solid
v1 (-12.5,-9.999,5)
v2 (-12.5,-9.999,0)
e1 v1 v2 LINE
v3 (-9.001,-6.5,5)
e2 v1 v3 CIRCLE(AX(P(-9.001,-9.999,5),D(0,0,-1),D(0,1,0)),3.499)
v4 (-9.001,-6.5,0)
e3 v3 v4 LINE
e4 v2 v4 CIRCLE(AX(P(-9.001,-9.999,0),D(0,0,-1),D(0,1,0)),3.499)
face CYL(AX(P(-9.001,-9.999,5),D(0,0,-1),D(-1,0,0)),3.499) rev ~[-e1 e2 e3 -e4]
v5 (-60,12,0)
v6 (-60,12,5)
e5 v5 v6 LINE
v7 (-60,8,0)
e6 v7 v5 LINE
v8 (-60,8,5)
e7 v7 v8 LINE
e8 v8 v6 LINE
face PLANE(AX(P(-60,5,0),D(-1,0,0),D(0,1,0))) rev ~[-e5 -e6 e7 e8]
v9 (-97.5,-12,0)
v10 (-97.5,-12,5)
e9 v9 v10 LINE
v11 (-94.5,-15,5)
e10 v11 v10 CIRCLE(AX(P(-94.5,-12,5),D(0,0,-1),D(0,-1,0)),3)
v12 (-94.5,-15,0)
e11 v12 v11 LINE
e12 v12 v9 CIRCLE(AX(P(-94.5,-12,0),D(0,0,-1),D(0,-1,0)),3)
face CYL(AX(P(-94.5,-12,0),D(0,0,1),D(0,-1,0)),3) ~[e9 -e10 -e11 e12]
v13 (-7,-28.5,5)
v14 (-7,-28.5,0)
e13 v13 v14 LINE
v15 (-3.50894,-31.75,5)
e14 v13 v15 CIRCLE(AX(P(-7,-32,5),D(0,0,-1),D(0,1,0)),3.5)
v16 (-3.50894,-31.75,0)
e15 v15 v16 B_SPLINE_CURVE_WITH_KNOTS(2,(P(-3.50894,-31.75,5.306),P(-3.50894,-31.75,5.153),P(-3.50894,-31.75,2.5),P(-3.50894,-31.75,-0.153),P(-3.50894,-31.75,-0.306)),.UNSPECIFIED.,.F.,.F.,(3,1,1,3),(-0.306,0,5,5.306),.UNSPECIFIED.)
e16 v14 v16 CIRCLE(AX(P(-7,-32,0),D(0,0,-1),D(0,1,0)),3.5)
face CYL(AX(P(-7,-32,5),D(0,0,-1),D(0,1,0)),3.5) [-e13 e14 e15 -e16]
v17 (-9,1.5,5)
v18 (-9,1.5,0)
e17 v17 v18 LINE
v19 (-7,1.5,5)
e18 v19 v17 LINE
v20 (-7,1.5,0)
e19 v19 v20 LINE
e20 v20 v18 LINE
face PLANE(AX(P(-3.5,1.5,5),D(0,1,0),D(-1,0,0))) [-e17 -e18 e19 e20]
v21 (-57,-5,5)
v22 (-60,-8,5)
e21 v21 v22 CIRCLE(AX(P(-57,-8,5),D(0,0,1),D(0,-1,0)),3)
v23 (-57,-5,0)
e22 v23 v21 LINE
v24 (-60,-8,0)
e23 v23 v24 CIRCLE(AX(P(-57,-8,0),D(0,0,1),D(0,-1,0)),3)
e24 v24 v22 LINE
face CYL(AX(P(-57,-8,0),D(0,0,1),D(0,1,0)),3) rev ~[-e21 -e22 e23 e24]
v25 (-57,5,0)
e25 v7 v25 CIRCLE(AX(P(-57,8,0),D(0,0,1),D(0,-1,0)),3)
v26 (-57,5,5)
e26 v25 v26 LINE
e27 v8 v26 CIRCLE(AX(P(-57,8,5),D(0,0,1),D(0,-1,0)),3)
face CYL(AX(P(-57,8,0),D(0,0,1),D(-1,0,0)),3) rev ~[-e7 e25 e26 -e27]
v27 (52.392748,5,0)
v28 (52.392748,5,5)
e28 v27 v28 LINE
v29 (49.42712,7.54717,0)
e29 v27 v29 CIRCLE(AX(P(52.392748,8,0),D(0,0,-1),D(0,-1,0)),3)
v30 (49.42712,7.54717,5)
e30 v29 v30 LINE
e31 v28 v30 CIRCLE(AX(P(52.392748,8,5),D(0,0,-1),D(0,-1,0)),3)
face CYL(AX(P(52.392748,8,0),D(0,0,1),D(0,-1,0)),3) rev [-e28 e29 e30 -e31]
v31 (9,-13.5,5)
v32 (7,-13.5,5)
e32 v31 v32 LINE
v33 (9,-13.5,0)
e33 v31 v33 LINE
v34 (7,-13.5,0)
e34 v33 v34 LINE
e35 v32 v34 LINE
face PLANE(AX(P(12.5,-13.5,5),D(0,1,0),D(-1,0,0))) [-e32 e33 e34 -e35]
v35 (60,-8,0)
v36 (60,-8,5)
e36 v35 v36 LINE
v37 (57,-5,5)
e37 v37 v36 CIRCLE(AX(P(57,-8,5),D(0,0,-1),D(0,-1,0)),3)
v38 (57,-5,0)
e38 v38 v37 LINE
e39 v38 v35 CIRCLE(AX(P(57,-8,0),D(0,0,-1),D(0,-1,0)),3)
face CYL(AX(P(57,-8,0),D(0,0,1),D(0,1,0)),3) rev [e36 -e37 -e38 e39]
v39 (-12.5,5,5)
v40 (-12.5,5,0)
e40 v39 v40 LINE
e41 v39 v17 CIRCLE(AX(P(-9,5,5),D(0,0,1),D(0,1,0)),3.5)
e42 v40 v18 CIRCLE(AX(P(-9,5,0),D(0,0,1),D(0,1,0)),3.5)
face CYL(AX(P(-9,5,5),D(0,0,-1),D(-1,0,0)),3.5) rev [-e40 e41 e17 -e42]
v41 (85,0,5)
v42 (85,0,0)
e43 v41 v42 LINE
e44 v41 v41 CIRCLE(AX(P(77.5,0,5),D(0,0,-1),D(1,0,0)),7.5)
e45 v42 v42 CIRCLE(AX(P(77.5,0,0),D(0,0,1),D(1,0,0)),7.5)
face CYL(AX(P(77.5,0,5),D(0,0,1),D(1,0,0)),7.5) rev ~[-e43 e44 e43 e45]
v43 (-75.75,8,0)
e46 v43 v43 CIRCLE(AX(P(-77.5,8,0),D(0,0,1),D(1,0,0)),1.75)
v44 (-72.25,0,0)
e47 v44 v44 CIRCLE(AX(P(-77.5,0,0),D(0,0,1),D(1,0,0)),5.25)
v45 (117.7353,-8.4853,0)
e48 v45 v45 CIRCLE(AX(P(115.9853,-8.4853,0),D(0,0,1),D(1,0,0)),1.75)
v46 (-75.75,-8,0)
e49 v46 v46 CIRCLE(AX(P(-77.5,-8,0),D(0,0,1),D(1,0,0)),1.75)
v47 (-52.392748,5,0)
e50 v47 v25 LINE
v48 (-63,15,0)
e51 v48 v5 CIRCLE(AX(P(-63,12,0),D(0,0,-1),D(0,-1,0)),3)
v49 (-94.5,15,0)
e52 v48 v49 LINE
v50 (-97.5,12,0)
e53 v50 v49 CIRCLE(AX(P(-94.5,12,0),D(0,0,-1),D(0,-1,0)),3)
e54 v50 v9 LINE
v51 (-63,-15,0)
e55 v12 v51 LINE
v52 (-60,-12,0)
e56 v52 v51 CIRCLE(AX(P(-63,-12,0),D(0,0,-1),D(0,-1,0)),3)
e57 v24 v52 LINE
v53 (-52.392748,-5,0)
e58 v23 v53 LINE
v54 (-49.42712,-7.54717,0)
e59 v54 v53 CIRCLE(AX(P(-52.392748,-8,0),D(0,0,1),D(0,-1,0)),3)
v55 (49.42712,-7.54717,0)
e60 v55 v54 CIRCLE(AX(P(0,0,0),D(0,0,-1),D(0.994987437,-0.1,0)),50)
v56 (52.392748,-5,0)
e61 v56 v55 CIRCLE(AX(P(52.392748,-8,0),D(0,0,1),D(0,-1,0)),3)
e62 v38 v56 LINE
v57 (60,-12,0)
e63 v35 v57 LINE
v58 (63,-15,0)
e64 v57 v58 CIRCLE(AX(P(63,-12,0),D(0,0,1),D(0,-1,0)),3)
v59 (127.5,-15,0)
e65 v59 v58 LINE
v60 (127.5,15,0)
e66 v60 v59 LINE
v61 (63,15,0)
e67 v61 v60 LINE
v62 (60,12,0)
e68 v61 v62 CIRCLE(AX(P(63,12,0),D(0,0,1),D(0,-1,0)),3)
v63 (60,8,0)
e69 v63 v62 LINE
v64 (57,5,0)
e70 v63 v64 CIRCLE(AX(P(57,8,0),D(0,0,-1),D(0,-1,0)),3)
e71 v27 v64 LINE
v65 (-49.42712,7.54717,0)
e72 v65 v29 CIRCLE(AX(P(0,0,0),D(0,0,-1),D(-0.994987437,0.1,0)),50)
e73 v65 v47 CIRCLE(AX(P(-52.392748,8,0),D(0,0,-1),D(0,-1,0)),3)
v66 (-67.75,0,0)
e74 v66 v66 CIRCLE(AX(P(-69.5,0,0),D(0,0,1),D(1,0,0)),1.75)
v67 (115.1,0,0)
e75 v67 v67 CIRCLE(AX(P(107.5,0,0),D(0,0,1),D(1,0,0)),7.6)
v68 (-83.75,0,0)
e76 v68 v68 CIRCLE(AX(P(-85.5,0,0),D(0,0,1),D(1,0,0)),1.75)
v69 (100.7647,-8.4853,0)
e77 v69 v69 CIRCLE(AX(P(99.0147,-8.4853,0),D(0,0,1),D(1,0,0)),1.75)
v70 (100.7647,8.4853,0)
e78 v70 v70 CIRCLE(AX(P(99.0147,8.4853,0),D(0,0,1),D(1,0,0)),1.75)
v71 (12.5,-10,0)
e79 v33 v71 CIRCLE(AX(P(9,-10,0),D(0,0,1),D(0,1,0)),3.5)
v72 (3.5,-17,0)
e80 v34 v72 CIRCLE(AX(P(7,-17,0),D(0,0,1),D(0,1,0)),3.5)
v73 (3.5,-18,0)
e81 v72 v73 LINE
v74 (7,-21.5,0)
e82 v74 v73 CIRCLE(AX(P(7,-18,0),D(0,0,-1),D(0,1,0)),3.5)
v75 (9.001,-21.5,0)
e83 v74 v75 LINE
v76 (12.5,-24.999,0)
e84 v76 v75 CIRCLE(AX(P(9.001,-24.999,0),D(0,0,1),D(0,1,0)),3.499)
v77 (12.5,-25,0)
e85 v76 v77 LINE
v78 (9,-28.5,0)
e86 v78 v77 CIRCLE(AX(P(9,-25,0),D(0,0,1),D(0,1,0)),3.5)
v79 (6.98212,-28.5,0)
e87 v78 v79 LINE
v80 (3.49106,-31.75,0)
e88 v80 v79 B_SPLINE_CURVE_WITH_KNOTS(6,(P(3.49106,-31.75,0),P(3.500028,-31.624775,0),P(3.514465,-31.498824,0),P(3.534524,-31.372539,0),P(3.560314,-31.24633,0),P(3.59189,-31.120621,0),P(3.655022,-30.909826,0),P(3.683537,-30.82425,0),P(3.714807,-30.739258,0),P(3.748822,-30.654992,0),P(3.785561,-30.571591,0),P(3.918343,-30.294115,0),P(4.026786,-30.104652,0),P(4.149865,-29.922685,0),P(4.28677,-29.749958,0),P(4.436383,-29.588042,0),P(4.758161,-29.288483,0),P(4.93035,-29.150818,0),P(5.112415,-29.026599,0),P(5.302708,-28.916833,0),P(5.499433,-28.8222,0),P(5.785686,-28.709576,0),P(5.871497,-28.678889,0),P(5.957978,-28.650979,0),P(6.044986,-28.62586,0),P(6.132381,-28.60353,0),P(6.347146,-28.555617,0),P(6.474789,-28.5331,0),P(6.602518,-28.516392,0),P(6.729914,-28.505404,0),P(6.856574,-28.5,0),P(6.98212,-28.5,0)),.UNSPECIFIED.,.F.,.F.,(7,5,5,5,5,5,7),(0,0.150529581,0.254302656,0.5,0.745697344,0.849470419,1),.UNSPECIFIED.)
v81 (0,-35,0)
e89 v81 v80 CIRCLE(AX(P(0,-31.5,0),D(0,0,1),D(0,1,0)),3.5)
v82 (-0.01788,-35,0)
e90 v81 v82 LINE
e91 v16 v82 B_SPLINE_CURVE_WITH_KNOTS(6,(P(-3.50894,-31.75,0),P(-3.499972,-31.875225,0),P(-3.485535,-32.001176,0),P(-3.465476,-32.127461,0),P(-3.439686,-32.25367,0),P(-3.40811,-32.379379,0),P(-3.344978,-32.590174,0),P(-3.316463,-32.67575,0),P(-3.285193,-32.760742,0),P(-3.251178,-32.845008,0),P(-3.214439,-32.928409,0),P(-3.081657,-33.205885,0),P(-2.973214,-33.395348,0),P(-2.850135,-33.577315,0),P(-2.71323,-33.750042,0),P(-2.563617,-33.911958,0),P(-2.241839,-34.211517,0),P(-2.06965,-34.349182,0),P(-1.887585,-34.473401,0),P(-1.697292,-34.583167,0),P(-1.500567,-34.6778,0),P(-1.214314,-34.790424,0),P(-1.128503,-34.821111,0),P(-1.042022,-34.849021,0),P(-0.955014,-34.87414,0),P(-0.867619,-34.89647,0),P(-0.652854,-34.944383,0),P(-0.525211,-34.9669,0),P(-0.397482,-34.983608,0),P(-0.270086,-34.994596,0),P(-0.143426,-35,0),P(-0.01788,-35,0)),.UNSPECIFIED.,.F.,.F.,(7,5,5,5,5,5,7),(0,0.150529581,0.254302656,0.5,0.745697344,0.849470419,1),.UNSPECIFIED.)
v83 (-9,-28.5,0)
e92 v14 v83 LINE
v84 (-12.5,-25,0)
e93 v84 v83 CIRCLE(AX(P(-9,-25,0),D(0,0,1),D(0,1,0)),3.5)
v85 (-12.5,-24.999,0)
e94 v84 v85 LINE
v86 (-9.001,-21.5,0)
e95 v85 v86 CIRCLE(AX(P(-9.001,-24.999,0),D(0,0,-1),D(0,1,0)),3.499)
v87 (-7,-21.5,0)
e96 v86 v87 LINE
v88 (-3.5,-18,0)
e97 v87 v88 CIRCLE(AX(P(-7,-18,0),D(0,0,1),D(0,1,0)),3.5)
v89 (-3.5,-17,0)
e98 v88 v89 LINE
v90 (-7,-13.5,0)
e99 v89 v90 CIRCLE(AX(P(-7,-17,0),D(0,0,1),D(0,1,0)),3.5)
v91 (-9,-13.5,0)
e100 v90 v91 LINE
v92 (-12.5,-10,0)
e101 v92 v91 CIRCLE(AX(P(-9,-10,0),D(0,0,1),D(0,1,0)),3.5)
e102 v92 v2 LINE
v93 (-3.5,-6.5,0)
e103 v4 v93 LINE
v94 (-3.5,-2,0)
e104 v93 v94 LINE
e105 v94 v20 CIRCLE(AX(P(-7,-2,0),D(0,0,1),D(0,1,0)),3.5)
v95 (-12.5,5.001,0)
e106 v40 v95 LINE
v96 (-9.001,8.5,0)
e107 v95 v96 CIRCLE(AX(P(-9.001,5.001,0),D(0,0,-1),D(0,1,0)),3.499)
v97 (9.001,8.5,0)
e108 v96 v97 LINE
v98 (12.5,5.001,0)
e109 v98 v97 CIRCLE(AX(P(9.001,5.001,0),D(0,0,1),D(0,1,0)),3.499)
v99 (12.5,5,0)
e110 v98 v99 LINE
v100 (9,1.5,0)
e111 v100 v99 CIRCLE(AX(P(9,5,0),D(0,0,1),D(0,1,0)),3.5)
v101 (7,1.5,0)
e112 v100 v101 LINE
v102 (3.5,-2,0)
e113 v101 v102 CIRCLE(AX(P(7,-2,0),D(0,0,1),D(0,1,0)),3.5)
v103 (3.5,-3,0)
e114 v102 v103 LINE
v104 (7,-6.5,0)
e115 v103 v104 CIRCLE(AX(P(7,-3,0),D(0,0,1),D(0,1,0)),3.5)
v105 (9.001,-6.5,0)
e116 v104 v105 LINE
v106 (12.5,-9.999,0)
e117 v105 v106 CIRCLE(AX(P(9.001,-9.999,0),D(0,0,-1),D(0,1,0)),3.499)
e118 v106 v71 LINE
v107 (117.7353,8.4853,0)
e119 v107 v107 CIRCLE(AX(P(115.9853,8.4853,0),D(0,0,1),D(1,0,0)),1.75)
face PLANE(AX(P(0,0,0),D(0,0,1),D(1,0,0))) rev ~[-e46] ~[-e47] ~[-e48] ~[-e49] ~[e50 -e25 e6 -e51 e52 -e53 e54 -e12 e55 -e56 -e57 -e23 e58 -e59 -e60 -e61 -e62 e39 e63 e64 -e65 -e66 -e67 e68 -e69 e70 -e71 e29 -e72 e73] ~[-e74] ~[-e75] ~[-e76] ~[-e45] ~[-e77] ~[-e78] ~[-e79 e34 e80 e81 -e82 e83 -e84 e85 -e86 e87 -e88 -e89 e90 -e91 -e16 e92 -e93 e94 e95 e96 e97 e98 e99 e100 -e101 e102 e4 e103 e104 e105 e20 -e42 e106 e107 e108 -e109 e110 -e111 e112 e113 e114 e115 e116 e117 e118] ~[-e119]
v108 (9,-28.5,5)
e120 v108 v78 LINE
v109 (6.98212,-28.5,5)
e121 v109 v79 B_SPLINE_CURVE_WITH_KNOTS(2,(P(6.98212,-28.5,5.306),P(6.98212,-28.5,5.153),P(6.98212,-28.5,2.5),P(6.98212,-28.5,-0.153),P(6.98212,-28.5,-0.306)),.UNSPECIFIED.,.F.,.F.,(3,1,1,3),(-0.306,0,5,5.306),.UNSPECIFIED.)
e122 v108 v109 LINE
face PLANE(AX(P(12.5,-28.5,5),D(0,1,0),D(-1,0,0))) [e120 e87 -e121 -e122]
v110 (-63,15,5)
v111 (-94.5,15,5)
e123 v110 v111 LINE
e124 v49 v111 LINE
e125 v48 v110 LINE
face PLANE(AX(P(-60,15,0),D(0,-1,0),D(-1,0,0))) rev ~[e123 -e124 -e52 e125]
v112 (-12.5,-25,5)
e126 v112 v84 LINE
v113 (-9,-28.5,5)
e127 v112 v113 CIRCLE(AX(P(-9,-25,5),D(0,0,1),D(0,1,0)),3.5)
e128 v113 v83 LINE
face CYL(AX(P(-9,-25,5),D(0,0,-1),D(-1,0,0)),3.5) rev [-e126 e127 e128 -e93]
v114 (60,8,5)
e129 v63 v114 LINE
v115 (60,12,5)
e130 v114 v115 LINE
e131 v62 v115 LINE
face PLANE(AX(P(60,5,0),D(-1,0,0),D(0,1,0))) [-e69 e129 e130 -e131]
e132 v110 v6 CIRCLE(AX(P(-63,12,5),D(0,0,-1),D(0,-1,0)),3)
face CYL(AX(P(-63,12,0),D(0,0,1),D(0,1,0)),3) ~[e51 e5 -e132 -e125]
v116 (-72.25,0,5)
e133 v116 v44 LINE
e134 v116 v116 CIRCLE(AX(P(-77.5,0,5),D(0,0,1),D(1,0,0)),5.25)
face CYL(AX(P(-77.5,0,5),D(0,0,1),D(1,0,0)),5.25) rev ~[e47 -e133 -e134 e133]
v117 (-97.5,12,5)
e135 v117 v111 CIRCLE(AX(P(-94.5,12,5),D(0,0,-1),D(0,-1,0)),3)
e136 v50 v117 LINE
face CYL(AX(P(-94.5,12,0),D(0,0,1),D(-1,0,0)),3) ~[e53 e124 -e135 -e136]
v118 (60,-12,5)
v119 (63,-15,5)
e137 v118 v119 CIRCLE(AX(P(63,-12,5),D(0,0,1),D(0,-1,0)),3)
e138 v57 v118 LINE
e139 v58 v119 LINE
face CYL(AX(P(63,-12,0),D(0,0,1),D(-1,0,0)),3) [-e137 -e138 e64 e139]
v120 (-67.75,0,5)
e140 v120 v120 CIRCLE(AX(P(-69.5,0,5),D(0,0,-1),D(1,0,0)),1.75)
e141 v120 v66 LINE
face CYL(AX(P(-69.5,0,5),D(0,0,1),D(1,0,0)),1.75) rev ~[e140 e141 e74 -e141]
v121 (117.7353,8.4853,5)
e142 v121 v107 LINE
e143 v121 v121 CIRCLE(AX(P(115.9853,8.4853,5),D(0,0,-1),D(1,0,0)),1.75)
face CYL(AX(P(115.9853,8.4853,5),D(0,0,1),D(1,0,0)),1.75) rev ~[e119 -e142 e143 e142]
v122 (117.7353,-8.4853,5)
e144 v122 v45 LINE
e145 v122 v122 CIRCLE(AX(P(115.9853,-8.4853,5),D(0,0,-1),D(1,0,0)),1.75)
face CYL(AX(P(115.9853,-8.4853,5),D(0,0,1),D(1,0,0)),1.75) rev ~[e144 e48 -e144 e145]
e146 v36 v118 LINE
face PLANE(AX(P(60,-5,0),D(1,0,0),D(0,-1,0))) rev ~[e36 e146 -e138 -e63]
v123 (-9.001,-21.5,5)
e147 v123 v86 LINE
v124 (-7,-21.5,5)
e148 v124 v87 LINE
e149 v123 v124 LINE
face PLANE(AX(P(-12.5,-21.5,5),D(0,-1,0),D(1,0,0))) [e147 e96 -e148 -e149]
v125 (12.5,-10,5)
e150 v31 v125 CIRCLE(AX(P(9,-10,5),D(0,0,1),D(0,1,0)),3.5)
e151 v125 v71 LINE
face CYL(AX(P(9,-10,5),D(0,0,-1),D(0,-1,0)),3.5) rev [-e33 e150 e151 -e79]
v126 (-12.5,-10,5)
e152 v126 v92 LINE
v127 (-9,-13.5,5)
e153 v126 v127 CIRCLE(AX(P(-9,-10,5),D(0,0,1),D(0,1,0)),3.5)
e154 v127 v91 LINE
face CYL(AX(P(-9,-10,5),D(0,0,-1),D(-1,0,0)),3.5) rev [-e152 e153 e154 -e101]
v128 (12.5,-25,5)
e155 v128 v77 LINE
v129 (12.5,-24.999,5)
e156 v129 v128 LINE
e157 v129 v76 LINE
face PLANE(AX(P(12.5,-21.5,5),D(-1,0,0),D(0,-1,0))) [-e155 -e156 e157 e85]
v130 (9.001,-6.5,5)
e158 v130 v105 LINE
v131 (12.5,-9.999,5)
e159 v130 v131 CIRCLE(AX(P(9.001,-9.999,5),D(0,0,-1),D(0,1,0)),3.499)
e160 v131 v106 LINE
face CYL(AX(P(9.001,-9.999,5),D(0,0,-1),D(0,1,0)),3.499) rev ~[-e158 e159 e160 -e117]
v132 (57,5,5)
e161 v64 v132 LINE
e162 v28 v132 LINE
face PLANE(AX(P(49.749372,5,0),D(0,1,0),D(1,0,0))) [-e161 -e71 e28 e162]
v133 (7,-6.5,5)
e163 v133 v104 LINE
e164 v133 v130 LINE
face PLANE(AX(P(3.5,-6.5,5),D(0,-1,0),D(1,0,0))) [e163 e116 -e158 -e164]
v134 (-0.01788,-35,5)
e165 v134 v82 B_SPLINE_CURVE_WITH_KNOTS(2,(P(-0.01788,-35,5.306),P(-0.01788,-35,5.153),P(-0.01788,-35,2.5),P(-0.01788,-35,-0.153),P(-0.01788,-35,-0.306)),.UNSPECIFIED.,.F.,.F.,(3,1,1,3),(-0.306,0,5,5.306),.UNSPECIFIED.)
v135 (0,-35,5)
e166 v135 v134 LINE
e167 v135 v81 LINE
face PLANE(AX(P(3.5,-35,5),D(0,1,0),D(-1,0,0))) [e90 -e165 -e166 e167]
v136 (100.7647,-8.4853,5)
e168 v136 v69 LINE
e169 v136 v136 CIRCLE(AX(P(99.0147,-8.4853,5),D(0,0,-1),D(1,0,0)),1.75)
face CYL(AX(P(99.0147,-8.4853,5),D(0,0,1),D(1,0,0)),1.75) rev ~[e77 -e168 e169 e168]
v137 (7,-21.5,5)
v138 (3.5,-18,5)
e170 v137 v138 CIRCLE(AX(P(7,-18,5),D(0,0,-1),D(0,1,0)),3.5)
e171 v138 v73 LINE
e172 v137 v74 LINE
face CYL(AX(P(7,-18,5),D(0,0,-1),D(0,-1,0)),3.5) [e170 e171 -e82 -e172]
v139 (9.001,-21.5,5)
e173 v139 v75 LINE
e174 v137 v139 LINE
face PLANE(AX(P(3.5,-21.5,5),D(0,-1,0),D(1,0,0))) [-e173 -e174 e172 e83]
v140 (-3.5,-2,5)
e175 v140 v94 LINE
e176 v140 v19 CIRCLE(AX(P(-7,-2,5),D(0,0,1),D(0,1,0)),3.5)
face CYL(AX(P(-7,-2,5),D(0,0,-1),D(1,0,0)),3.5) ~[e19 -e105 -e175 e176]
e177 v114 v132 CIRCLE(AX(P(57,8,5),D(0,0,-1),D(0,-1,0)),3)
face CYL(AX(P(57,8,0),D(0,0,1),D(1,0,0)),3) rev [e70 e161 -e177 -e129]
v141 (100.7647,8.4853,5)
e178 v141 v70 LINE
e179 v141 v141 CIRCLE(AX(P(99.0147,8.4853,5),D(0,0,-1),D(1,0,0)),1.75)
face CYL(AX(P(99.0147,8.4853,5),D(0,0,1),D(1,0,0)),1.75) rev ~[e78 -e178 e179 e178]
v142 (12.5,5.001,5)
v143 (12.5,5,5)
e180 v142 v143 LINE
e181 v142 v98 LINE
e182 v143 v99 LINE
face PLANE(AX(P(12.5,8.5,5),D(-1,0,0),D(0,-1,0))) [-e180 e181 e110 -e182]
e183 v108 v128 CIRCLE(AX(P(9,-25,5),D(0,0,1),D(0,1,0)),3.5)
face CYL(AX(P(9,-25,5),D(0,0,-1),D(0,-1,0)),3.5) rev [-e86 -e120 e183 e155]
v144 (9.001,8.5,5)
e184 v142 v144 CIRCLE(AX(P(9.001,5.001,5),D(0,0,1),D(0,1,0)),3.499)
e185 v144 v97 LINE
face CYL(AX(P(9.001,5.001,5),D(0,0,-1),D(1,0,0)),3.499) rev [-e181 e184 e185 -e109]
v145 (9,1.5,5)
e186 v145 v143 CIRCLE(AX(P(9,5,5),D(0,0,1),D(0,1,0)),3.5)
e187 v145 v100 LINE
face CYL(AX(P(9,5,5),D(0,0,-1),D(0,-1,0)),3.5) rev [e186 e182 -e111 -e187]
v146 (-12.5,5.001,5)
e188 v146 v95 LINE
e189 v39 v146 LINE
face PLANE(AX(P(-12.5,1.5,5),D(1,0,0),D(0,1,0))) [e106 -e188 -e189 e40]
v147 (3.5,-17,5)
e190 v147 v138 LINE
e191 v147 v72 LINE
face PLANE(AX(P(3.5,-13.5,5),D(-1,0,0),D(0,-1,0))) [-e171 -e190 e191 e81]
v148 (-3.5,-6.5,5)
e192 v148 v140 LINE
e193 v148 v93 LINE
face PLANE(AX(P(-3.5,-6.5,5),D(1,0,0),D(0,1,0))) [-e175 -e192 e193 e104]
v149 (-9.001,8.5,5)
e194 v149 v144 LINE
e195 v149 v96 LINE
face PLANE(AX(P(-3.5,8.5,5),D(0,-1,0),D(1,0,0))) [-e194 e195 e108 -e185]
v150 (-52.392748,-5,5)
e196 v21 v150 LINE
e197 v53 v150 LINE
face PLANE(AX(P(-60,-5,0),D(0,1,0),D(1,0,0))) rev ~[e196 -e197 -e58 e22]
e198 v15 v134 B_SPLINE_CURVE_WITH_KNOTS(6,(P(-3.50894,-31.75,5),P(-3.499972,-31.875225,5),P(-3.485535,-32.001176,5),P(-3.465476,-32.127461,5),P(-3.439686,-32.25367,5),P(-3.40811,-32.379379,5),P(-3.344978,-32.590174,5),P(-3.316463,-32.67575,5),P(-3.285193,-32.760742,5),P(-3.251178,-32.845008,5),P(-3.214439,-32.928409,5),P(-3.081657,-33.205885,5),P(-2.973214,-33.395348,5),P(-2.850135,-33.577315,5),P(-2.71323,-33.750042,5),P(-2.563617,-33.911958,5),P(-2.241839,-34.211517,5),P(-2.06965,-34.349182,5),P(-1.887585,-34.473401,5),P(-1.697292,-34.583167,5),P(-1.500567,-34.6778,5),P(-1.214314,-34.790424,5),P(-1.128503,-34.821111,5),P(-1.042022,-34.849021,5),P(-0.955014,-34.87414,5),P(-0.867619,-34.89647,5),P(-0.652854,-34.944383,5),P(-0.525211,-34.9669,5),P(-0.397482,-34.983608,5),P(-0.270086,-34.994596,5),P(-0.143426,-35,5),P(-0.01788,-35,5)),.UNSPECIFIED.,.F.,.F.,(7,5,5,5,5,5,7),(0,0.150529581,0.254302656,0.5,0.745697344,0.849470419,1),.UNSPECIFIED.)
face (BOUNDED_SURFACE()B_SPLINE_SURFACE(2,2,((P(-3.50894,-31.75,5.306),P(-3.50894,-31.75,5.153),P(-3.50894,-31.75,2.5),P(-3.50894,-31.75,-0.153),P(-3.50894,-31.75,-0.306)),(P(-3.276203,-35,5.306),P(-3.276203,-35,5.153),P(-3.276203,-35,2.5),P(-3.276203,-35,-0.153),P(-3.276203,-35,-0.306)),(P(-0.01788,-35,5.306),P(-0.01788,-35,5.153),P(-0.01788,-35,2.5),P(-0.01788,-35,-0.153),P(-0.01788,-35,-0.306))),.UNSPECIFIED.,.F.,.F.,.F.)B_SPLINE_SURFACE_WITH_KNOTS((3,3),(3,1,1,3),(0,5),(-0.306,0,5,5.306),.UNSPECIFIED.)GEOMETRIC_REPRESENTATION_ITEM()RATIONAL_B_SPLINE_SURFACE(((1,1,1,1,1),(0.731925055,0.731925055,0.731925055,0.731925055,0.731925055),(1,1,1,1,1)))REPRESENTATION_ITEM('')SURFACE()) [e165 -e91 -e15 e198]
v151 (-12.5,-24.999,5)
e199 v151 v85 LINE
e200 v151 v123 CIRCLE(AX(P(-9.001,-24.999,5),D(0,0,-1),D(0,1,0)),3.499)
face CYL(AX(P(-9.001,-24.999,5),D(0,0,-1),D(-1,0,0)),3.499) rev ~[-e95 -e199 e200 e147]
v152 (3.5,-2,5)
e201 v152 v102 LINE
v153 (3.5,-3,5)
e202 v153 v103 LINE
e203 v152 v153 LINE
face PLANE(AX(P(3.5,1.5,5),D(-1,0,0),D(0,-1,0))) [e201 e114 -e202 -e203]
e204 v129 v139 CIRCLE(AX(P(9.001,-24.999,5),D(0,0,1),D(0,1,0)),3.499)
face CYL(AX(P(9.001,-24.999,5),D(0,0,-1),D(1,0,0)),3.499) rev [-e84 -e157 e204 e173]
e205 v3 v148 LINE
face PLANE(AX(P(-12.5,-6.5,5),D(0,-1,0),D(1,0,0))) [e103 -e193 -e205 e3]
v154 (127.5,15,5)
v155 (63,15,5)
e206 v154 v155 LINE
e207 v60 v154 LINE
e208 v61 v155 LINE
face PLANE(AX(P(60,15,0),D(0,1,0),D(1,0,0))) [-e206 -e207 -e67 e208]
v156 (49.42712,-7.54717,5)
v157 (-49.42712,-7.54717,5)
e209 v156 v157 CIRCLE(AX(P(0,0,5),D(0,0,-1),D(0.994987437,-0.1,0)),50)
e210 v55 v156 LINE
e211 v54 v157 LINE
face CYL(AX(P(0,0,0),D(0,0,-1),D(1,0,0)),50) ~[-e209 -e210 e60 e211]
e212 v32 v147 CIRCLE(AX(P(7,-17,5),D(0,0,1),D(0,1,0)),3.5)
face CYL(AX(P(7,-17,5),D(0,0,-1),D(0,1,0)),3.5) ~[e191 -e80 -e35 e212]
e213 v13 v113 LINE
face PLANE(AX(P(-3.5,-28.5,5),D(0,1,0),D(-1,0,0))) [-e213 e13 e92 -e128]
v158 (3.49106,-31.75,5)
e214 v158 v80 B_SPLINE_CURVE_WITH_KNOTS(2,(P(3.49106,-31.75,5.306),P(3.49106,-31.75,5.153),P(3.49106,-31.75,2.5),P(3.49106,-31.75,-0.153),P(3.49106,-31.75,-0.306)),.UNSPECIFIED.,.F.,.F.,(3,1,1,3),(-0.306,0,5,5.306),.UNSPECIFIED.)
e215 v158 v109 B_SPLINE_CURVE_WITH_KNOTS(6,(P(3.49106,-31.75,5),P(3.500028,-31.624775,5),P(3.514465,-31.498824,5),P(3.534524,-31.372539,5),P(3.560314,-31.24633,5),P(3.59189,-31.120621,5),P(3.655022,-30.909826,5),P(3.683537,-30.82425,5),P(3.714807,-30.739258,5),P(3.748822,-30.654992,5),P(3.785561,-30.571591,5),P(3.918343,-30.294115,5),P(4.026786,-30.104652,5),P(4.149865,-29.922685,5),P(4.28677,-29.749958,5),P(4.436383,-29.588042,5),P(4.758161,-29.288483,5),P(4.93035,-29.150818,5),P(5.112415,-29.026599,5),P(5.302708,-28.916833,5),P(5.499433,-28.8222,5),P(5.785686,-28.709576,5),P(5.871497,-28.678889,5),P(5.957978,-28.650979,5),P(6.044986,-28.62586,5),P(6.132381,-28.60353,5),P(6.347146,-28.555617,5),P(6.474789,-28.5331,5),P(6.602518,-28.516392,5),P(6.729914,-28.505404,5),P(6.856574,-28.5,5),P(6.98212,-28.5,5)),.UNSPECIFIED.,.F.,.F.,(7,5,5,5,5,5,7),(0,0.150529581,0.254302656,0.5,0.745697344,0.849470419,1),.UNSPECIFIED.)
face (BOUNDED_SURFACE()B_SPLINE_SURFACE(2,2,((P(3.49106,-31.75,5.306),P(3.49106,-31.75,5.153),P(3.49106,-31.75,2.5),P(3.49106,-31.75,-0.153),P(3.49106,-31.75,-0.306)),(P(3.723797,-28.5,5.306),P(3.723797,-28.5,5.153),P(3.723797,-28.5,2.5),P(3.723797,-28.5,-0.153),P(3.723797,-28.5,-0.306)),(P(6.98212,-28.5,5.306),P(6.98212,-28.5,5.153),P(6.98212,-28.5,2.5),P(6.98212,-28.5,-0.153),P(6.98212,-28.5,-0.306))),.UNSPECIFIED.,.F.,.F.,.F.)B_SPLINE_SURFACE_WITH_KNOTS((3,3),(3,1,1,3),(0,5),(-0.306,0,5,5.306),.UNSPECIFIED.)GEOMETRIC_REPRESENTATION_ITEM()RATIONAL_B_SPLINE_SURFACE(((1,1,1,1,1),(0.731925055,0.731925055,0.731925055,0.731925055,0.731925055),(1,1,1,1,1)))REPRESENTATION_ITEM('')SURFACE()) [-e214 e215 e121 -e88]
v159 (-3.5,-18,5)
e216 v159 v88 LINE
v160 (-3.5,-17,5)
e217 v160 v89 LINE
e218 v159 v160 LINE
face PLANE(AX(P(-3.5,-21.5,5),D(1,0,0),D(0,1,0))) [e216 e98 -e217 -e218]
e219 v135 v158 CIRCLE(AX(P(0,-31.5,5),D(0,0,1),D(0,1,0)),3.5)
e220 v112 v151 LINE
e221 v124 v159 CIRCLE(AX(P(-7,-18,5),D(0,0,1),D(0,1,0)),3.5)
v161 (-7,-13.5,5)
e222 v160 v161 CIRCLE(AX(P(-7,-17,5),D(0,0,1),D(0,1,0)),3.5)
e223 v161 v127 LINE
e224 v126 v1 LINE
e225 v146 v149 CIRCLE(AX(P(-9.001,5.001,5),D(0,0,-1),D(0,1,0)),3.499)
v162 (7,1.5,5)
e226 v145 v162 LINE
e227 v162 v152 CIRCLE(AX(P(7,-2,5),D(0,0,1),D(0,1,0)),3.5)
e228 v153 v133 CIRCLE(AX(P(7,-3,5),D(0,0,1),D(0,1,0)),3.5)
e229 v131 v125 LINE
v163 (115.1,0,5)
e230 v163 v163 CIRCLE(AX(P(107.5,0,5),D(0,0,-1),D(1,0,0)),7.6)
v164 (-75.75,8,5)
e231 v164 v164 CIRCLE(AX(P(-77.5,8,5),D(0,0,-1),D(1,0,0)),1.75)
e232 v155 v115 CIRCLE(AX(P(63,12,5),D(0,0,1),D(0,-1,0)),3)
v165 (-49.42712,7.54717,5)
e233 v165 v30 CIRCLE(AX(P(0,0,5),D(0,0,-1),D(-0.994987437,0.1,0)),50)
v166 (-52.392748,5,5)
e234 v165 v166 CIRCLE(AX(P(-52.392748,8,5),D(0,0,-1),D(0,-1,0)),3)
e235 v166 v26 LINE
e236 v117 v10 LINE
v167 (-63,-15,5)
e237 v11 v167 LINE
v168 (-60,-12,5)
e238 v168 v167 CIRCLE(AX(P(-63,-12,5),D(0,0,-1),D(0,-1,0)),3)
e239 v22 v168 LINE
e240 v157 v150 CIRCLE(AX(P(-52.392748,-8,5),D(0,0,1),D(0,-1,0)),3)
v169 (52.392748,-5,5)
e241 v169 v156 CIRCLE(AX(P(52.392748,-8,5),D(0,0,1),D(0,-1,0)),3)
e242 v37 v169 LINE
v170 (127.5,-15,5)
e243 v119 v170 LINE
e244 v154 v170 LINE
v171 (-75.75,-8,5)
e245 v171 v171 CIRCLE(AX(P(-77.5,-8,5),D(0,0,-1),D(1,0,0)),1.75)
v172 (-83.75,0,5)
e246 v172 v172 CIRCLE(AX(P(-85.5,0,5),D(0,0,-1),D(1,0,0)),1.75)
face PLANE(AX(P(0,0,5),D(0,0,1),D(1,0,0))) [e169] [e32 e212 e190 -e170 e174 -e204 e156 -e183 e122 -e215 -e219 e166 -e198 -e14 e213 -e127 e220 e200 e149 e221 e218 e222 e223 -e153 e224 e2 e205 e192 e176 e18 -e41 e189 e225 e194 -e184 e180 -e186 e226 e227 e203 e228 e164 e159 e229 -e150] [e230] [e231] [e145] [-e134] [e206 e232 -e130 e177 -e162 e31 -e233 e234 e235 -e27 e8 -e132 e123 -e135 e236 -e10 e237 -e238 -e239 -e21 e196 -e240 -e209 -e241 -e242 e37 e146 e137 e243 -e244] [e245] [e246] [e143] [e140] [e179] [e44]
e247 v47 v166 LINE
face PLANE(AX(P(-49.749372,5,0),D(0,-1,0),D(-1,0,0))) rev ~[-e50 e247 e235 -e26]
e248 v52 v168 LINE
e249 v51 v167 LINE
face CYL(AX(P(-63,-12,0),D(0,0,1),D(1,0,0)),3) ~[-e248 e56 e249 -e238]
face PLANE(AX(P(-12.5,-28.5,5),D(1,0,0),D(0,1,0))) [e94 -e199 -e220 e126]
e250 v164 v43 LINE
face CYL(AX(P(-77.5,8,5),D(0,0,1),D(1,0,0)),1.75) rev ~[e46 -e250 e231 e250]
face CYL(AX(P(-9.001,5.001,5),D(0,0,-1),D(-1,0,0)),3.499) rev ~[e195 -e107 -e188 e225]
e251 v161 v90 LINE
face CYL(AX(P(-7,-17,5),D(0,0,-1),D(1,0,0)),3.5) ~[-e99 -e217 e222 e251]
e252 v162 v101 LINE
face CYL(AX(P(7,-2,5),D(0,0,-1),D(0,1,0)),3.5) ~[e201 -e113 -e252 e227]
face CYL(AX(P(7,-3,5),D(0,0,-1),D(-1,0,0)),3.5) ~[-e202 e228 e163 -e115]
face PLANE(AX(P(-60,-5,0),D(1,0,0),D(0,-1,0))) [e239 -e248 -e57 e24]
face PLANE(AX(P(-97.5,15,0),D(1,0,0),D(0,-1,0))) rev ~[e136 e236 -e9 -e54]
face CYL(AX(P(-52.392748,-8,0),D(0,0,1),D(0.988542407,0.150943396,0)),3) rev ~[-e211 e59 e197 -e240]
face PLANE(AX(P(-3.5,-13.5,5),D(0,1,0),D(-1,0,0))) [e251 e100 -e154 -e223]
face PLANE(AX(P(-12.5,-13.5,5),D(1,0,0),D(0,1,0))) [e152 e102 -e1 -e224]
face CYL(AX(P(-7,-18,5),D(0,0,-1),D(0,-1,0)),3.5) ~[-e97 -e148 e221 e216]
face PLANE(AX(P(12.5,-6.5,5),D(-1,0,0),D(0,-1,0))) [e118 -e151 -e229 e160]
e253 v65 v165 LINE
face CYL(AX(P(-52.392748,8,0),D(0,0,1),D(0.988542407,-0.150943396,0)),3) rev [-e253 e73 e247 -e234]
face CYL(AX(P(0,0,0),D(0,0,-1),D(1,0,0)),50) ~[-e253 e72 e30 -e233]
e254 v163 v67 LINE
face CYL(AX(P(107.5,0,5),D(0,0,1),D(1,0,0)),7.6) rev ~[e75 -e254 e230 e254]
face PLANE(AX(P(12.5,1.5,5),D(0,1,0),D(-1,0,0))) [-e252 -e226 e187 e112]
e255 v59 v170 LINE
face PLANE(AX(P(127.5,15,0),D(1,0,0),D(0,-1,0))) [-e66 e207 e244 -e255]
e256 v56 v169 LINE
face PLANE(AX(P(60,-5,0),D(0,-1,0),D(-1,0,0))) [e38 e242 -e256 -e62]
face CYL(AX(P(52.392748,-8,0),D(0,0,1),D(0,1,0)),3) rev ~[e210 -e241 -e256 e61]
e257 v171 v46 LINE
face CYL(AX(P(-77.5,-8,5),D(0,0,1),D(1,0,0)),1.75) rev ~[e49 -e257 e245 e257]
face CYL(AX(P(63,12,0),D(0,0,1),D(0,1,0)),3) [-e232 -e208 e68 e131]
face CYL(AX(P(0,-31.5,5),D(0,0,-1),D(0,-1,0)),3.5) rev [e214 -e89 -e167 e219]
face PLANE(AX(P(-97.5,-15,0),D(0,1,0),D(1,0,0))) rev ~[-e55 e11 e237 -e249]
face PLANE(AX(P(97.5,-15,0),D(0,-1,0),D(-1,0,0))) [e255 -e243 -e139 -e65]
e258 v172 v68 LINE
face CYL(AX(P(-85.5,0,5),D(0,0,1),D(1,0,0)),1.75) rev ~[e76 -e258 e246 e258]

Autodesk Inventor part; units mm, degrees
ref_plane "YZ Plane" through (0, 0, 0) normal (1, 0, 0) x (0, 1, 0)
ref_plane "XZ Plane" through (0, 0, 0) normal (0, 1, 0) x (-1, 0, 0)
ref_plane "XY Plane" through (0, 0, 0) normal (0, 0, 1) x (1, 0, 0)
sketch "Sketch1" plane through (0, 0, 0) normal (0, 0, 1) x (1, 0, 0)
  circle A0 centre (0, 0) radius 50
  line L0 (0, 0) -> (0, 20) construction
  line L1 (2.5, 15) -> (97.5, 15)
  line L2 (97.5, 15) -> (97.5, -15)
  line L3 (97.5, -15) -> (2.5, -15)
  line L4 (2.5, -15) -> (2.5, 15)
  line L5 (2.5, 15) -> (97.5, -15) construction
  line L6 (97.5, 15) -> (2.5, -15) construction
  line L7 (40, 5) -> (60, 5)
  line L8 (60, 5) -> (60, -5)
  line L9 (60, -5) -> (40, -5)
  line L10 (40, -5) -> (40, 5)
  line L11 (40, 5) -> (60, -5) construction
  line L12 (60, 5) -> (40, -5) construction
  line L13 (60, 5) -> (60, 15)
  line L14 (60, -5) -> (60, -15)
  line L15 (-2.5, 15) -> (-97.5, 15)
  line L16 (-97.5, 15) -> (-97.5, -15)
  line L17 (-97.5, -15) -> (-2.5, -15)
  line L18 (-2.5, -15) -> (-2.5, 15)
  line L19 (-2.5, 15) -> (-97.5, -15) construction
  line L20 (-97.5, 15) -> (-2.5, -15) construction
  line L21 (-40, 5) -> (-60, 5)
  line L22 (-60, 5) -> (-60, -5)
  line L23 (-60, -5) -> (-40, -5)
  line L24 (-40, -5) -> (-40, 5)
  line L25 (-40, 5) -> (-60, -5) construction
  line L26 (-60, 5) -> (-40, -5) construction
  line L27 (-60, 5) -> (-60, 15)
  line L28 (-60, -5) -> (-60, -15)
  line L29 (97.5, 15) -> (127.5, 15)
  line L30 (127.5, 15) -> (127.5, -15)
  line L31 (127.5, -15) -> (97.5, -15)
  line L32 (97.5, -15) -> (97.5, 15)
  point P0 (50, 0)
  point P1 (50, 0)
  point P2 (-50, 0)
  point P3 (-50, 0)
  point P4 (49.7494, 5)
  point P5 (49.7494, -5)
  point P6 (-49.7494, -5)
  point P7 (-49.7494, 5)
  dimension "d0" = 100
  dimension "d3" = 20
  dimension "d17" = 95
  dimension "d18" = 30
  dimension "d19" = 20
  dimension "d20" = 10
  dimension "d81" = 30
  dimension "d82" = 30
extrude "Extrusion1" add sketch "Sketch1" along normal blind 5 contours A0 L9 L10 L7 | A0 L7 L8 L9 | L7 L10 L9 A0 L3 L4 L1 | L1 L4 L3 A0 L17 L18 L15 | L13 L1 L2 L3 L14 L8 | L15 L18 L17 A0 L23 L24 L21 | L21 L24 L23 A0 | A0 L23 L22 L21 | L27 L22 L28 L17 L16 L15 | L29 L30 L31 L2
sketch "Sketch2" plane through (0, 0, 5) normal (0, 0, 1) x (1, 0, 0)
  line L0 (0, 0) -> (-77.5, 0) construction
  circle A0 centre (-77.5, 0) radius 5.25
  line L1 (0, 0) -> (0, 20) construction
  circle A1 centre (-77.5, 0) radius 8
  circle A2 centre (-69.5, 0) radius 1.75
  circle A3 centre (-77.5, 8) radius 1.75
  circle A4 centre (-85.5, 0) radius 1.75
  circle A5 centre (-77.5, -8) radius 1.75
  line L2 (0, 0) -> (107.5, 0)
  line L3 (0, 0) -> (107.5, 0) construction
  line L4 (95, 12.5) -> (120, 12.5)
  line L5 (120, 12.5) -> (120, -12.5)
  line L6 (120, -12.5) -> (95, -12.5)
  line L7 (95, -12.5) -> (95, 12.5)
  line L8 (95, 12.5) -> (120, -12.5) construction
  line L9 (120, 12.5) -> (95, -12.5) construction
  circle A6 centre (107.5, 0) radius 12
  line L10 (95, -12.5) -> (120, 12.5)
  circle A7 centre (115.9853, 8.4853) radius 1.75
  circle A8 centre (99.0147, 8.4853) radius 1.75
  circle A9 centre (99.0147, -8.4853) radius 1.75
  circle A10 centre (115.9853, -8.4853) radius 1.75
  circle A11 centre (107.5, 0) radius 7.6
  line L11 (0, 0) -> (77.5, 0)
  circle A12 centre (77.5, 0) radius 7.5
  dimension "d26" = 16
  dimension "d74" = 24
  dimension "d6" = 77.5
  dimension "d7" = 10.5
  dimension "d8" = 20
  dimension "d27" = 3.5
  dimension "d30" = 360
  dimension "d70" = 107.5
  dimension "d71" = 0
  dimension "d72" = 25
  dimension "d73" = 25
  dimension "d75" = 3.5
  dimension "d78" = 360
  dimension "d80" = 15.2
  dimension "d83" = 77.5
  dimension "d84" = 15
extrude "Extrusion2" cut sketch "Sketch2" against normal blind 7 contours A0 | A1 A2 | A1 A2 | A3 A1 | A1 A3 | A5 A1 | A1 A5 | A4 A1 | A1 A4 | L2 A12 | L2 A12 | A11 L10 L2 | L2 L10 A11 | A8 A6 | A6 A8 | A9 L10 A6 | A6 L10 A9 | L10 A6 A9 | L10 A11 | L10 A9 A6 | A7 A6 L10 | L10 A6 A7 | A7 A6 L10 | L10 A6 A7 | A10 A6 | A6 A10
fillet "Fillet1" radius 3 14 edges at (-60, 5, 2.5) (-60, 15, 2.5) (-49.7494, 5, 2.5) (-60, -5, 2.5) (-60, -15, 2.5) (-49.7494, -5, 2.5) (-97.5, -15, 2.5) (-97.5, 15, 2.5) (60, -15, 2.5) (60, 15, 2.5) (60, -5, 2.5) (60, 5, 2.5) (49.7494, 5, 2.5) (49.7494, -5, 2.5)
sketch "Sketch4" plane through (0, 0, 5) normal (0, 0, 1) x (1, 0, 0)
  line L0 (-3.5, 35) -> (3.5, 35)
  line L1 (3.5, 35) -> (3.5, -35)
  line L2 (3.5, -35) -> (-3.5, -35)
  line L3 (-3.5, -35) -> (-3.5, 35)
  line L4 (-3.5, 35) -> (3.5, -35) construction
  line L5 (3.5, 35) -> (-3.5, -35) construction
  line L6 (0, 0) -> (0, -25)
  line L7 (0, 0) -> (0, -10)
  line L8 (-12.5, -21.5) -> (12.5, -21.5)
  line L9 (12.5, -21.5) -> (12.5, -28.5)
  line L10 (12.5, -28.5) -> (-12.5, -28.5)
  line L11 (-12.5, -28.5) -> (-12.5, -21.5)
  line L12 (-12.5, -21.5) -> (12.5, -28.5) construction
  line L13 (12.5, -21.5) -> (-12.5, -28.5) construction
  line L14 (-12.5, -6.5) -> (12.5, -6.5)
  line L15 (12.5, -6.5) -> (12.5, -13.5)
  line L16 (12.5, -13.5) -> (-12.5, -13.5)
  line L17 (-12.5, -13.5) -> (-12.5, -6.5)
  line L18 (-12.5, -6.5) -> (12.5, -13.5) construction
  line L19 (12.5, -6.5) -> (-12.5, -13.5) construction
  line L20 (0, 0) -> (0, 5)
  line L21 (-12.5, 8.5) -> (12.5, 8.5)
  line L22 (12.5, 8.5) -> (12.5, 1.5)
  line L23 (12.5, 1.5) -> (-12.5, 1.5)
  line L24 (-12.5, 1.5) -> (-12.5, 8.5)
  line L25 (-12.5, 8.5) -> (12.5, 1.5) construction
  line L26 (12.5, 8.5) -> (-12.5, 1.5) construction
  point P0 (3.5, -21.5)
  point P1 (3.5, -13.5)
  point P2 (3.5, -6.5)
  point P3 (-3.5, -6.5)
  point P4 (-3.5, -13.5)
  point P5 (-3.5, -21.5)
  point P6 (-3.5, -28.5)
  point P7 (3.5, -28.5)
  point P8 (3.5, 8.5)
  point P9 (3.5, 1.5)
  point P10 (-3.5, 1.5)
  point P11 (-3.5, 8.5)
  dimension "d85" = 7
  dimension "d86" = 70
  dimension "d87" = 25
  dimension "d88" = 10
  dimension "d89" = 25
  dimension "d90" = 7
  dimension "d91" = 25
  dimension "d92" = 7
  dimension "d93" = 5
  dimension "d94" = 25
  dimension "d95" = 7
extrude "Extrusion3" cut sketch "Sketch4" against normal blind 10 contours L21 L1 L23 L3 | L3 L23 L24 L21 | L21 L22 L23 L1 | L23 L20 L6 L14 L3 | L1 L14 L6 L20 L23 | L14 L6 L16 L3 | L3 L16 L17 L14 | L14 L15 L16 L1 | L1 L16 L6 L14 | L16 L6 L8 L3 | L1 L8 L6 L16 | L8 L1 L10 L3 | L3 L10 L11 L8 | L8 L9 L10 L1 | L10 L1 L2 L3
fillet "Fillet2" radius 3.5 23 edges at (-12.5, 1.5, 2.5) (-12.5, -13.5, 2.5) (-12.5, -6.5, 2.5) (-12.5, 8.5, 2.5) (-12.5, -28.5, 2.5) (-12.5, -21.5, 2.5) (-3.5, -21.5, 2.5) (-3.5, -28.5, 2.5) (-3.5, -35, 2.5) (3.5, -35, 2.5) (3.5, -28.5, 2.5) (12.5, -28.5, 2.5) (12.5, -21.5, 2.5) (3.5, -21.5, 2.5) (-3.5, -13.5, 2.5) (-3.5, 1.5, 2.5) (3.5, -13.5, 2.5) (12.5, -13.5, 2.5) (12.5, 1.5, 2.5) (3.5, 1.5, 2.5) (3.5, -6.5, 2.5) (12.5, 8.5, 2.5) (12.5, -6.5, 2.5)
properties part number "NUEVA TAPA PARA CORTE"
